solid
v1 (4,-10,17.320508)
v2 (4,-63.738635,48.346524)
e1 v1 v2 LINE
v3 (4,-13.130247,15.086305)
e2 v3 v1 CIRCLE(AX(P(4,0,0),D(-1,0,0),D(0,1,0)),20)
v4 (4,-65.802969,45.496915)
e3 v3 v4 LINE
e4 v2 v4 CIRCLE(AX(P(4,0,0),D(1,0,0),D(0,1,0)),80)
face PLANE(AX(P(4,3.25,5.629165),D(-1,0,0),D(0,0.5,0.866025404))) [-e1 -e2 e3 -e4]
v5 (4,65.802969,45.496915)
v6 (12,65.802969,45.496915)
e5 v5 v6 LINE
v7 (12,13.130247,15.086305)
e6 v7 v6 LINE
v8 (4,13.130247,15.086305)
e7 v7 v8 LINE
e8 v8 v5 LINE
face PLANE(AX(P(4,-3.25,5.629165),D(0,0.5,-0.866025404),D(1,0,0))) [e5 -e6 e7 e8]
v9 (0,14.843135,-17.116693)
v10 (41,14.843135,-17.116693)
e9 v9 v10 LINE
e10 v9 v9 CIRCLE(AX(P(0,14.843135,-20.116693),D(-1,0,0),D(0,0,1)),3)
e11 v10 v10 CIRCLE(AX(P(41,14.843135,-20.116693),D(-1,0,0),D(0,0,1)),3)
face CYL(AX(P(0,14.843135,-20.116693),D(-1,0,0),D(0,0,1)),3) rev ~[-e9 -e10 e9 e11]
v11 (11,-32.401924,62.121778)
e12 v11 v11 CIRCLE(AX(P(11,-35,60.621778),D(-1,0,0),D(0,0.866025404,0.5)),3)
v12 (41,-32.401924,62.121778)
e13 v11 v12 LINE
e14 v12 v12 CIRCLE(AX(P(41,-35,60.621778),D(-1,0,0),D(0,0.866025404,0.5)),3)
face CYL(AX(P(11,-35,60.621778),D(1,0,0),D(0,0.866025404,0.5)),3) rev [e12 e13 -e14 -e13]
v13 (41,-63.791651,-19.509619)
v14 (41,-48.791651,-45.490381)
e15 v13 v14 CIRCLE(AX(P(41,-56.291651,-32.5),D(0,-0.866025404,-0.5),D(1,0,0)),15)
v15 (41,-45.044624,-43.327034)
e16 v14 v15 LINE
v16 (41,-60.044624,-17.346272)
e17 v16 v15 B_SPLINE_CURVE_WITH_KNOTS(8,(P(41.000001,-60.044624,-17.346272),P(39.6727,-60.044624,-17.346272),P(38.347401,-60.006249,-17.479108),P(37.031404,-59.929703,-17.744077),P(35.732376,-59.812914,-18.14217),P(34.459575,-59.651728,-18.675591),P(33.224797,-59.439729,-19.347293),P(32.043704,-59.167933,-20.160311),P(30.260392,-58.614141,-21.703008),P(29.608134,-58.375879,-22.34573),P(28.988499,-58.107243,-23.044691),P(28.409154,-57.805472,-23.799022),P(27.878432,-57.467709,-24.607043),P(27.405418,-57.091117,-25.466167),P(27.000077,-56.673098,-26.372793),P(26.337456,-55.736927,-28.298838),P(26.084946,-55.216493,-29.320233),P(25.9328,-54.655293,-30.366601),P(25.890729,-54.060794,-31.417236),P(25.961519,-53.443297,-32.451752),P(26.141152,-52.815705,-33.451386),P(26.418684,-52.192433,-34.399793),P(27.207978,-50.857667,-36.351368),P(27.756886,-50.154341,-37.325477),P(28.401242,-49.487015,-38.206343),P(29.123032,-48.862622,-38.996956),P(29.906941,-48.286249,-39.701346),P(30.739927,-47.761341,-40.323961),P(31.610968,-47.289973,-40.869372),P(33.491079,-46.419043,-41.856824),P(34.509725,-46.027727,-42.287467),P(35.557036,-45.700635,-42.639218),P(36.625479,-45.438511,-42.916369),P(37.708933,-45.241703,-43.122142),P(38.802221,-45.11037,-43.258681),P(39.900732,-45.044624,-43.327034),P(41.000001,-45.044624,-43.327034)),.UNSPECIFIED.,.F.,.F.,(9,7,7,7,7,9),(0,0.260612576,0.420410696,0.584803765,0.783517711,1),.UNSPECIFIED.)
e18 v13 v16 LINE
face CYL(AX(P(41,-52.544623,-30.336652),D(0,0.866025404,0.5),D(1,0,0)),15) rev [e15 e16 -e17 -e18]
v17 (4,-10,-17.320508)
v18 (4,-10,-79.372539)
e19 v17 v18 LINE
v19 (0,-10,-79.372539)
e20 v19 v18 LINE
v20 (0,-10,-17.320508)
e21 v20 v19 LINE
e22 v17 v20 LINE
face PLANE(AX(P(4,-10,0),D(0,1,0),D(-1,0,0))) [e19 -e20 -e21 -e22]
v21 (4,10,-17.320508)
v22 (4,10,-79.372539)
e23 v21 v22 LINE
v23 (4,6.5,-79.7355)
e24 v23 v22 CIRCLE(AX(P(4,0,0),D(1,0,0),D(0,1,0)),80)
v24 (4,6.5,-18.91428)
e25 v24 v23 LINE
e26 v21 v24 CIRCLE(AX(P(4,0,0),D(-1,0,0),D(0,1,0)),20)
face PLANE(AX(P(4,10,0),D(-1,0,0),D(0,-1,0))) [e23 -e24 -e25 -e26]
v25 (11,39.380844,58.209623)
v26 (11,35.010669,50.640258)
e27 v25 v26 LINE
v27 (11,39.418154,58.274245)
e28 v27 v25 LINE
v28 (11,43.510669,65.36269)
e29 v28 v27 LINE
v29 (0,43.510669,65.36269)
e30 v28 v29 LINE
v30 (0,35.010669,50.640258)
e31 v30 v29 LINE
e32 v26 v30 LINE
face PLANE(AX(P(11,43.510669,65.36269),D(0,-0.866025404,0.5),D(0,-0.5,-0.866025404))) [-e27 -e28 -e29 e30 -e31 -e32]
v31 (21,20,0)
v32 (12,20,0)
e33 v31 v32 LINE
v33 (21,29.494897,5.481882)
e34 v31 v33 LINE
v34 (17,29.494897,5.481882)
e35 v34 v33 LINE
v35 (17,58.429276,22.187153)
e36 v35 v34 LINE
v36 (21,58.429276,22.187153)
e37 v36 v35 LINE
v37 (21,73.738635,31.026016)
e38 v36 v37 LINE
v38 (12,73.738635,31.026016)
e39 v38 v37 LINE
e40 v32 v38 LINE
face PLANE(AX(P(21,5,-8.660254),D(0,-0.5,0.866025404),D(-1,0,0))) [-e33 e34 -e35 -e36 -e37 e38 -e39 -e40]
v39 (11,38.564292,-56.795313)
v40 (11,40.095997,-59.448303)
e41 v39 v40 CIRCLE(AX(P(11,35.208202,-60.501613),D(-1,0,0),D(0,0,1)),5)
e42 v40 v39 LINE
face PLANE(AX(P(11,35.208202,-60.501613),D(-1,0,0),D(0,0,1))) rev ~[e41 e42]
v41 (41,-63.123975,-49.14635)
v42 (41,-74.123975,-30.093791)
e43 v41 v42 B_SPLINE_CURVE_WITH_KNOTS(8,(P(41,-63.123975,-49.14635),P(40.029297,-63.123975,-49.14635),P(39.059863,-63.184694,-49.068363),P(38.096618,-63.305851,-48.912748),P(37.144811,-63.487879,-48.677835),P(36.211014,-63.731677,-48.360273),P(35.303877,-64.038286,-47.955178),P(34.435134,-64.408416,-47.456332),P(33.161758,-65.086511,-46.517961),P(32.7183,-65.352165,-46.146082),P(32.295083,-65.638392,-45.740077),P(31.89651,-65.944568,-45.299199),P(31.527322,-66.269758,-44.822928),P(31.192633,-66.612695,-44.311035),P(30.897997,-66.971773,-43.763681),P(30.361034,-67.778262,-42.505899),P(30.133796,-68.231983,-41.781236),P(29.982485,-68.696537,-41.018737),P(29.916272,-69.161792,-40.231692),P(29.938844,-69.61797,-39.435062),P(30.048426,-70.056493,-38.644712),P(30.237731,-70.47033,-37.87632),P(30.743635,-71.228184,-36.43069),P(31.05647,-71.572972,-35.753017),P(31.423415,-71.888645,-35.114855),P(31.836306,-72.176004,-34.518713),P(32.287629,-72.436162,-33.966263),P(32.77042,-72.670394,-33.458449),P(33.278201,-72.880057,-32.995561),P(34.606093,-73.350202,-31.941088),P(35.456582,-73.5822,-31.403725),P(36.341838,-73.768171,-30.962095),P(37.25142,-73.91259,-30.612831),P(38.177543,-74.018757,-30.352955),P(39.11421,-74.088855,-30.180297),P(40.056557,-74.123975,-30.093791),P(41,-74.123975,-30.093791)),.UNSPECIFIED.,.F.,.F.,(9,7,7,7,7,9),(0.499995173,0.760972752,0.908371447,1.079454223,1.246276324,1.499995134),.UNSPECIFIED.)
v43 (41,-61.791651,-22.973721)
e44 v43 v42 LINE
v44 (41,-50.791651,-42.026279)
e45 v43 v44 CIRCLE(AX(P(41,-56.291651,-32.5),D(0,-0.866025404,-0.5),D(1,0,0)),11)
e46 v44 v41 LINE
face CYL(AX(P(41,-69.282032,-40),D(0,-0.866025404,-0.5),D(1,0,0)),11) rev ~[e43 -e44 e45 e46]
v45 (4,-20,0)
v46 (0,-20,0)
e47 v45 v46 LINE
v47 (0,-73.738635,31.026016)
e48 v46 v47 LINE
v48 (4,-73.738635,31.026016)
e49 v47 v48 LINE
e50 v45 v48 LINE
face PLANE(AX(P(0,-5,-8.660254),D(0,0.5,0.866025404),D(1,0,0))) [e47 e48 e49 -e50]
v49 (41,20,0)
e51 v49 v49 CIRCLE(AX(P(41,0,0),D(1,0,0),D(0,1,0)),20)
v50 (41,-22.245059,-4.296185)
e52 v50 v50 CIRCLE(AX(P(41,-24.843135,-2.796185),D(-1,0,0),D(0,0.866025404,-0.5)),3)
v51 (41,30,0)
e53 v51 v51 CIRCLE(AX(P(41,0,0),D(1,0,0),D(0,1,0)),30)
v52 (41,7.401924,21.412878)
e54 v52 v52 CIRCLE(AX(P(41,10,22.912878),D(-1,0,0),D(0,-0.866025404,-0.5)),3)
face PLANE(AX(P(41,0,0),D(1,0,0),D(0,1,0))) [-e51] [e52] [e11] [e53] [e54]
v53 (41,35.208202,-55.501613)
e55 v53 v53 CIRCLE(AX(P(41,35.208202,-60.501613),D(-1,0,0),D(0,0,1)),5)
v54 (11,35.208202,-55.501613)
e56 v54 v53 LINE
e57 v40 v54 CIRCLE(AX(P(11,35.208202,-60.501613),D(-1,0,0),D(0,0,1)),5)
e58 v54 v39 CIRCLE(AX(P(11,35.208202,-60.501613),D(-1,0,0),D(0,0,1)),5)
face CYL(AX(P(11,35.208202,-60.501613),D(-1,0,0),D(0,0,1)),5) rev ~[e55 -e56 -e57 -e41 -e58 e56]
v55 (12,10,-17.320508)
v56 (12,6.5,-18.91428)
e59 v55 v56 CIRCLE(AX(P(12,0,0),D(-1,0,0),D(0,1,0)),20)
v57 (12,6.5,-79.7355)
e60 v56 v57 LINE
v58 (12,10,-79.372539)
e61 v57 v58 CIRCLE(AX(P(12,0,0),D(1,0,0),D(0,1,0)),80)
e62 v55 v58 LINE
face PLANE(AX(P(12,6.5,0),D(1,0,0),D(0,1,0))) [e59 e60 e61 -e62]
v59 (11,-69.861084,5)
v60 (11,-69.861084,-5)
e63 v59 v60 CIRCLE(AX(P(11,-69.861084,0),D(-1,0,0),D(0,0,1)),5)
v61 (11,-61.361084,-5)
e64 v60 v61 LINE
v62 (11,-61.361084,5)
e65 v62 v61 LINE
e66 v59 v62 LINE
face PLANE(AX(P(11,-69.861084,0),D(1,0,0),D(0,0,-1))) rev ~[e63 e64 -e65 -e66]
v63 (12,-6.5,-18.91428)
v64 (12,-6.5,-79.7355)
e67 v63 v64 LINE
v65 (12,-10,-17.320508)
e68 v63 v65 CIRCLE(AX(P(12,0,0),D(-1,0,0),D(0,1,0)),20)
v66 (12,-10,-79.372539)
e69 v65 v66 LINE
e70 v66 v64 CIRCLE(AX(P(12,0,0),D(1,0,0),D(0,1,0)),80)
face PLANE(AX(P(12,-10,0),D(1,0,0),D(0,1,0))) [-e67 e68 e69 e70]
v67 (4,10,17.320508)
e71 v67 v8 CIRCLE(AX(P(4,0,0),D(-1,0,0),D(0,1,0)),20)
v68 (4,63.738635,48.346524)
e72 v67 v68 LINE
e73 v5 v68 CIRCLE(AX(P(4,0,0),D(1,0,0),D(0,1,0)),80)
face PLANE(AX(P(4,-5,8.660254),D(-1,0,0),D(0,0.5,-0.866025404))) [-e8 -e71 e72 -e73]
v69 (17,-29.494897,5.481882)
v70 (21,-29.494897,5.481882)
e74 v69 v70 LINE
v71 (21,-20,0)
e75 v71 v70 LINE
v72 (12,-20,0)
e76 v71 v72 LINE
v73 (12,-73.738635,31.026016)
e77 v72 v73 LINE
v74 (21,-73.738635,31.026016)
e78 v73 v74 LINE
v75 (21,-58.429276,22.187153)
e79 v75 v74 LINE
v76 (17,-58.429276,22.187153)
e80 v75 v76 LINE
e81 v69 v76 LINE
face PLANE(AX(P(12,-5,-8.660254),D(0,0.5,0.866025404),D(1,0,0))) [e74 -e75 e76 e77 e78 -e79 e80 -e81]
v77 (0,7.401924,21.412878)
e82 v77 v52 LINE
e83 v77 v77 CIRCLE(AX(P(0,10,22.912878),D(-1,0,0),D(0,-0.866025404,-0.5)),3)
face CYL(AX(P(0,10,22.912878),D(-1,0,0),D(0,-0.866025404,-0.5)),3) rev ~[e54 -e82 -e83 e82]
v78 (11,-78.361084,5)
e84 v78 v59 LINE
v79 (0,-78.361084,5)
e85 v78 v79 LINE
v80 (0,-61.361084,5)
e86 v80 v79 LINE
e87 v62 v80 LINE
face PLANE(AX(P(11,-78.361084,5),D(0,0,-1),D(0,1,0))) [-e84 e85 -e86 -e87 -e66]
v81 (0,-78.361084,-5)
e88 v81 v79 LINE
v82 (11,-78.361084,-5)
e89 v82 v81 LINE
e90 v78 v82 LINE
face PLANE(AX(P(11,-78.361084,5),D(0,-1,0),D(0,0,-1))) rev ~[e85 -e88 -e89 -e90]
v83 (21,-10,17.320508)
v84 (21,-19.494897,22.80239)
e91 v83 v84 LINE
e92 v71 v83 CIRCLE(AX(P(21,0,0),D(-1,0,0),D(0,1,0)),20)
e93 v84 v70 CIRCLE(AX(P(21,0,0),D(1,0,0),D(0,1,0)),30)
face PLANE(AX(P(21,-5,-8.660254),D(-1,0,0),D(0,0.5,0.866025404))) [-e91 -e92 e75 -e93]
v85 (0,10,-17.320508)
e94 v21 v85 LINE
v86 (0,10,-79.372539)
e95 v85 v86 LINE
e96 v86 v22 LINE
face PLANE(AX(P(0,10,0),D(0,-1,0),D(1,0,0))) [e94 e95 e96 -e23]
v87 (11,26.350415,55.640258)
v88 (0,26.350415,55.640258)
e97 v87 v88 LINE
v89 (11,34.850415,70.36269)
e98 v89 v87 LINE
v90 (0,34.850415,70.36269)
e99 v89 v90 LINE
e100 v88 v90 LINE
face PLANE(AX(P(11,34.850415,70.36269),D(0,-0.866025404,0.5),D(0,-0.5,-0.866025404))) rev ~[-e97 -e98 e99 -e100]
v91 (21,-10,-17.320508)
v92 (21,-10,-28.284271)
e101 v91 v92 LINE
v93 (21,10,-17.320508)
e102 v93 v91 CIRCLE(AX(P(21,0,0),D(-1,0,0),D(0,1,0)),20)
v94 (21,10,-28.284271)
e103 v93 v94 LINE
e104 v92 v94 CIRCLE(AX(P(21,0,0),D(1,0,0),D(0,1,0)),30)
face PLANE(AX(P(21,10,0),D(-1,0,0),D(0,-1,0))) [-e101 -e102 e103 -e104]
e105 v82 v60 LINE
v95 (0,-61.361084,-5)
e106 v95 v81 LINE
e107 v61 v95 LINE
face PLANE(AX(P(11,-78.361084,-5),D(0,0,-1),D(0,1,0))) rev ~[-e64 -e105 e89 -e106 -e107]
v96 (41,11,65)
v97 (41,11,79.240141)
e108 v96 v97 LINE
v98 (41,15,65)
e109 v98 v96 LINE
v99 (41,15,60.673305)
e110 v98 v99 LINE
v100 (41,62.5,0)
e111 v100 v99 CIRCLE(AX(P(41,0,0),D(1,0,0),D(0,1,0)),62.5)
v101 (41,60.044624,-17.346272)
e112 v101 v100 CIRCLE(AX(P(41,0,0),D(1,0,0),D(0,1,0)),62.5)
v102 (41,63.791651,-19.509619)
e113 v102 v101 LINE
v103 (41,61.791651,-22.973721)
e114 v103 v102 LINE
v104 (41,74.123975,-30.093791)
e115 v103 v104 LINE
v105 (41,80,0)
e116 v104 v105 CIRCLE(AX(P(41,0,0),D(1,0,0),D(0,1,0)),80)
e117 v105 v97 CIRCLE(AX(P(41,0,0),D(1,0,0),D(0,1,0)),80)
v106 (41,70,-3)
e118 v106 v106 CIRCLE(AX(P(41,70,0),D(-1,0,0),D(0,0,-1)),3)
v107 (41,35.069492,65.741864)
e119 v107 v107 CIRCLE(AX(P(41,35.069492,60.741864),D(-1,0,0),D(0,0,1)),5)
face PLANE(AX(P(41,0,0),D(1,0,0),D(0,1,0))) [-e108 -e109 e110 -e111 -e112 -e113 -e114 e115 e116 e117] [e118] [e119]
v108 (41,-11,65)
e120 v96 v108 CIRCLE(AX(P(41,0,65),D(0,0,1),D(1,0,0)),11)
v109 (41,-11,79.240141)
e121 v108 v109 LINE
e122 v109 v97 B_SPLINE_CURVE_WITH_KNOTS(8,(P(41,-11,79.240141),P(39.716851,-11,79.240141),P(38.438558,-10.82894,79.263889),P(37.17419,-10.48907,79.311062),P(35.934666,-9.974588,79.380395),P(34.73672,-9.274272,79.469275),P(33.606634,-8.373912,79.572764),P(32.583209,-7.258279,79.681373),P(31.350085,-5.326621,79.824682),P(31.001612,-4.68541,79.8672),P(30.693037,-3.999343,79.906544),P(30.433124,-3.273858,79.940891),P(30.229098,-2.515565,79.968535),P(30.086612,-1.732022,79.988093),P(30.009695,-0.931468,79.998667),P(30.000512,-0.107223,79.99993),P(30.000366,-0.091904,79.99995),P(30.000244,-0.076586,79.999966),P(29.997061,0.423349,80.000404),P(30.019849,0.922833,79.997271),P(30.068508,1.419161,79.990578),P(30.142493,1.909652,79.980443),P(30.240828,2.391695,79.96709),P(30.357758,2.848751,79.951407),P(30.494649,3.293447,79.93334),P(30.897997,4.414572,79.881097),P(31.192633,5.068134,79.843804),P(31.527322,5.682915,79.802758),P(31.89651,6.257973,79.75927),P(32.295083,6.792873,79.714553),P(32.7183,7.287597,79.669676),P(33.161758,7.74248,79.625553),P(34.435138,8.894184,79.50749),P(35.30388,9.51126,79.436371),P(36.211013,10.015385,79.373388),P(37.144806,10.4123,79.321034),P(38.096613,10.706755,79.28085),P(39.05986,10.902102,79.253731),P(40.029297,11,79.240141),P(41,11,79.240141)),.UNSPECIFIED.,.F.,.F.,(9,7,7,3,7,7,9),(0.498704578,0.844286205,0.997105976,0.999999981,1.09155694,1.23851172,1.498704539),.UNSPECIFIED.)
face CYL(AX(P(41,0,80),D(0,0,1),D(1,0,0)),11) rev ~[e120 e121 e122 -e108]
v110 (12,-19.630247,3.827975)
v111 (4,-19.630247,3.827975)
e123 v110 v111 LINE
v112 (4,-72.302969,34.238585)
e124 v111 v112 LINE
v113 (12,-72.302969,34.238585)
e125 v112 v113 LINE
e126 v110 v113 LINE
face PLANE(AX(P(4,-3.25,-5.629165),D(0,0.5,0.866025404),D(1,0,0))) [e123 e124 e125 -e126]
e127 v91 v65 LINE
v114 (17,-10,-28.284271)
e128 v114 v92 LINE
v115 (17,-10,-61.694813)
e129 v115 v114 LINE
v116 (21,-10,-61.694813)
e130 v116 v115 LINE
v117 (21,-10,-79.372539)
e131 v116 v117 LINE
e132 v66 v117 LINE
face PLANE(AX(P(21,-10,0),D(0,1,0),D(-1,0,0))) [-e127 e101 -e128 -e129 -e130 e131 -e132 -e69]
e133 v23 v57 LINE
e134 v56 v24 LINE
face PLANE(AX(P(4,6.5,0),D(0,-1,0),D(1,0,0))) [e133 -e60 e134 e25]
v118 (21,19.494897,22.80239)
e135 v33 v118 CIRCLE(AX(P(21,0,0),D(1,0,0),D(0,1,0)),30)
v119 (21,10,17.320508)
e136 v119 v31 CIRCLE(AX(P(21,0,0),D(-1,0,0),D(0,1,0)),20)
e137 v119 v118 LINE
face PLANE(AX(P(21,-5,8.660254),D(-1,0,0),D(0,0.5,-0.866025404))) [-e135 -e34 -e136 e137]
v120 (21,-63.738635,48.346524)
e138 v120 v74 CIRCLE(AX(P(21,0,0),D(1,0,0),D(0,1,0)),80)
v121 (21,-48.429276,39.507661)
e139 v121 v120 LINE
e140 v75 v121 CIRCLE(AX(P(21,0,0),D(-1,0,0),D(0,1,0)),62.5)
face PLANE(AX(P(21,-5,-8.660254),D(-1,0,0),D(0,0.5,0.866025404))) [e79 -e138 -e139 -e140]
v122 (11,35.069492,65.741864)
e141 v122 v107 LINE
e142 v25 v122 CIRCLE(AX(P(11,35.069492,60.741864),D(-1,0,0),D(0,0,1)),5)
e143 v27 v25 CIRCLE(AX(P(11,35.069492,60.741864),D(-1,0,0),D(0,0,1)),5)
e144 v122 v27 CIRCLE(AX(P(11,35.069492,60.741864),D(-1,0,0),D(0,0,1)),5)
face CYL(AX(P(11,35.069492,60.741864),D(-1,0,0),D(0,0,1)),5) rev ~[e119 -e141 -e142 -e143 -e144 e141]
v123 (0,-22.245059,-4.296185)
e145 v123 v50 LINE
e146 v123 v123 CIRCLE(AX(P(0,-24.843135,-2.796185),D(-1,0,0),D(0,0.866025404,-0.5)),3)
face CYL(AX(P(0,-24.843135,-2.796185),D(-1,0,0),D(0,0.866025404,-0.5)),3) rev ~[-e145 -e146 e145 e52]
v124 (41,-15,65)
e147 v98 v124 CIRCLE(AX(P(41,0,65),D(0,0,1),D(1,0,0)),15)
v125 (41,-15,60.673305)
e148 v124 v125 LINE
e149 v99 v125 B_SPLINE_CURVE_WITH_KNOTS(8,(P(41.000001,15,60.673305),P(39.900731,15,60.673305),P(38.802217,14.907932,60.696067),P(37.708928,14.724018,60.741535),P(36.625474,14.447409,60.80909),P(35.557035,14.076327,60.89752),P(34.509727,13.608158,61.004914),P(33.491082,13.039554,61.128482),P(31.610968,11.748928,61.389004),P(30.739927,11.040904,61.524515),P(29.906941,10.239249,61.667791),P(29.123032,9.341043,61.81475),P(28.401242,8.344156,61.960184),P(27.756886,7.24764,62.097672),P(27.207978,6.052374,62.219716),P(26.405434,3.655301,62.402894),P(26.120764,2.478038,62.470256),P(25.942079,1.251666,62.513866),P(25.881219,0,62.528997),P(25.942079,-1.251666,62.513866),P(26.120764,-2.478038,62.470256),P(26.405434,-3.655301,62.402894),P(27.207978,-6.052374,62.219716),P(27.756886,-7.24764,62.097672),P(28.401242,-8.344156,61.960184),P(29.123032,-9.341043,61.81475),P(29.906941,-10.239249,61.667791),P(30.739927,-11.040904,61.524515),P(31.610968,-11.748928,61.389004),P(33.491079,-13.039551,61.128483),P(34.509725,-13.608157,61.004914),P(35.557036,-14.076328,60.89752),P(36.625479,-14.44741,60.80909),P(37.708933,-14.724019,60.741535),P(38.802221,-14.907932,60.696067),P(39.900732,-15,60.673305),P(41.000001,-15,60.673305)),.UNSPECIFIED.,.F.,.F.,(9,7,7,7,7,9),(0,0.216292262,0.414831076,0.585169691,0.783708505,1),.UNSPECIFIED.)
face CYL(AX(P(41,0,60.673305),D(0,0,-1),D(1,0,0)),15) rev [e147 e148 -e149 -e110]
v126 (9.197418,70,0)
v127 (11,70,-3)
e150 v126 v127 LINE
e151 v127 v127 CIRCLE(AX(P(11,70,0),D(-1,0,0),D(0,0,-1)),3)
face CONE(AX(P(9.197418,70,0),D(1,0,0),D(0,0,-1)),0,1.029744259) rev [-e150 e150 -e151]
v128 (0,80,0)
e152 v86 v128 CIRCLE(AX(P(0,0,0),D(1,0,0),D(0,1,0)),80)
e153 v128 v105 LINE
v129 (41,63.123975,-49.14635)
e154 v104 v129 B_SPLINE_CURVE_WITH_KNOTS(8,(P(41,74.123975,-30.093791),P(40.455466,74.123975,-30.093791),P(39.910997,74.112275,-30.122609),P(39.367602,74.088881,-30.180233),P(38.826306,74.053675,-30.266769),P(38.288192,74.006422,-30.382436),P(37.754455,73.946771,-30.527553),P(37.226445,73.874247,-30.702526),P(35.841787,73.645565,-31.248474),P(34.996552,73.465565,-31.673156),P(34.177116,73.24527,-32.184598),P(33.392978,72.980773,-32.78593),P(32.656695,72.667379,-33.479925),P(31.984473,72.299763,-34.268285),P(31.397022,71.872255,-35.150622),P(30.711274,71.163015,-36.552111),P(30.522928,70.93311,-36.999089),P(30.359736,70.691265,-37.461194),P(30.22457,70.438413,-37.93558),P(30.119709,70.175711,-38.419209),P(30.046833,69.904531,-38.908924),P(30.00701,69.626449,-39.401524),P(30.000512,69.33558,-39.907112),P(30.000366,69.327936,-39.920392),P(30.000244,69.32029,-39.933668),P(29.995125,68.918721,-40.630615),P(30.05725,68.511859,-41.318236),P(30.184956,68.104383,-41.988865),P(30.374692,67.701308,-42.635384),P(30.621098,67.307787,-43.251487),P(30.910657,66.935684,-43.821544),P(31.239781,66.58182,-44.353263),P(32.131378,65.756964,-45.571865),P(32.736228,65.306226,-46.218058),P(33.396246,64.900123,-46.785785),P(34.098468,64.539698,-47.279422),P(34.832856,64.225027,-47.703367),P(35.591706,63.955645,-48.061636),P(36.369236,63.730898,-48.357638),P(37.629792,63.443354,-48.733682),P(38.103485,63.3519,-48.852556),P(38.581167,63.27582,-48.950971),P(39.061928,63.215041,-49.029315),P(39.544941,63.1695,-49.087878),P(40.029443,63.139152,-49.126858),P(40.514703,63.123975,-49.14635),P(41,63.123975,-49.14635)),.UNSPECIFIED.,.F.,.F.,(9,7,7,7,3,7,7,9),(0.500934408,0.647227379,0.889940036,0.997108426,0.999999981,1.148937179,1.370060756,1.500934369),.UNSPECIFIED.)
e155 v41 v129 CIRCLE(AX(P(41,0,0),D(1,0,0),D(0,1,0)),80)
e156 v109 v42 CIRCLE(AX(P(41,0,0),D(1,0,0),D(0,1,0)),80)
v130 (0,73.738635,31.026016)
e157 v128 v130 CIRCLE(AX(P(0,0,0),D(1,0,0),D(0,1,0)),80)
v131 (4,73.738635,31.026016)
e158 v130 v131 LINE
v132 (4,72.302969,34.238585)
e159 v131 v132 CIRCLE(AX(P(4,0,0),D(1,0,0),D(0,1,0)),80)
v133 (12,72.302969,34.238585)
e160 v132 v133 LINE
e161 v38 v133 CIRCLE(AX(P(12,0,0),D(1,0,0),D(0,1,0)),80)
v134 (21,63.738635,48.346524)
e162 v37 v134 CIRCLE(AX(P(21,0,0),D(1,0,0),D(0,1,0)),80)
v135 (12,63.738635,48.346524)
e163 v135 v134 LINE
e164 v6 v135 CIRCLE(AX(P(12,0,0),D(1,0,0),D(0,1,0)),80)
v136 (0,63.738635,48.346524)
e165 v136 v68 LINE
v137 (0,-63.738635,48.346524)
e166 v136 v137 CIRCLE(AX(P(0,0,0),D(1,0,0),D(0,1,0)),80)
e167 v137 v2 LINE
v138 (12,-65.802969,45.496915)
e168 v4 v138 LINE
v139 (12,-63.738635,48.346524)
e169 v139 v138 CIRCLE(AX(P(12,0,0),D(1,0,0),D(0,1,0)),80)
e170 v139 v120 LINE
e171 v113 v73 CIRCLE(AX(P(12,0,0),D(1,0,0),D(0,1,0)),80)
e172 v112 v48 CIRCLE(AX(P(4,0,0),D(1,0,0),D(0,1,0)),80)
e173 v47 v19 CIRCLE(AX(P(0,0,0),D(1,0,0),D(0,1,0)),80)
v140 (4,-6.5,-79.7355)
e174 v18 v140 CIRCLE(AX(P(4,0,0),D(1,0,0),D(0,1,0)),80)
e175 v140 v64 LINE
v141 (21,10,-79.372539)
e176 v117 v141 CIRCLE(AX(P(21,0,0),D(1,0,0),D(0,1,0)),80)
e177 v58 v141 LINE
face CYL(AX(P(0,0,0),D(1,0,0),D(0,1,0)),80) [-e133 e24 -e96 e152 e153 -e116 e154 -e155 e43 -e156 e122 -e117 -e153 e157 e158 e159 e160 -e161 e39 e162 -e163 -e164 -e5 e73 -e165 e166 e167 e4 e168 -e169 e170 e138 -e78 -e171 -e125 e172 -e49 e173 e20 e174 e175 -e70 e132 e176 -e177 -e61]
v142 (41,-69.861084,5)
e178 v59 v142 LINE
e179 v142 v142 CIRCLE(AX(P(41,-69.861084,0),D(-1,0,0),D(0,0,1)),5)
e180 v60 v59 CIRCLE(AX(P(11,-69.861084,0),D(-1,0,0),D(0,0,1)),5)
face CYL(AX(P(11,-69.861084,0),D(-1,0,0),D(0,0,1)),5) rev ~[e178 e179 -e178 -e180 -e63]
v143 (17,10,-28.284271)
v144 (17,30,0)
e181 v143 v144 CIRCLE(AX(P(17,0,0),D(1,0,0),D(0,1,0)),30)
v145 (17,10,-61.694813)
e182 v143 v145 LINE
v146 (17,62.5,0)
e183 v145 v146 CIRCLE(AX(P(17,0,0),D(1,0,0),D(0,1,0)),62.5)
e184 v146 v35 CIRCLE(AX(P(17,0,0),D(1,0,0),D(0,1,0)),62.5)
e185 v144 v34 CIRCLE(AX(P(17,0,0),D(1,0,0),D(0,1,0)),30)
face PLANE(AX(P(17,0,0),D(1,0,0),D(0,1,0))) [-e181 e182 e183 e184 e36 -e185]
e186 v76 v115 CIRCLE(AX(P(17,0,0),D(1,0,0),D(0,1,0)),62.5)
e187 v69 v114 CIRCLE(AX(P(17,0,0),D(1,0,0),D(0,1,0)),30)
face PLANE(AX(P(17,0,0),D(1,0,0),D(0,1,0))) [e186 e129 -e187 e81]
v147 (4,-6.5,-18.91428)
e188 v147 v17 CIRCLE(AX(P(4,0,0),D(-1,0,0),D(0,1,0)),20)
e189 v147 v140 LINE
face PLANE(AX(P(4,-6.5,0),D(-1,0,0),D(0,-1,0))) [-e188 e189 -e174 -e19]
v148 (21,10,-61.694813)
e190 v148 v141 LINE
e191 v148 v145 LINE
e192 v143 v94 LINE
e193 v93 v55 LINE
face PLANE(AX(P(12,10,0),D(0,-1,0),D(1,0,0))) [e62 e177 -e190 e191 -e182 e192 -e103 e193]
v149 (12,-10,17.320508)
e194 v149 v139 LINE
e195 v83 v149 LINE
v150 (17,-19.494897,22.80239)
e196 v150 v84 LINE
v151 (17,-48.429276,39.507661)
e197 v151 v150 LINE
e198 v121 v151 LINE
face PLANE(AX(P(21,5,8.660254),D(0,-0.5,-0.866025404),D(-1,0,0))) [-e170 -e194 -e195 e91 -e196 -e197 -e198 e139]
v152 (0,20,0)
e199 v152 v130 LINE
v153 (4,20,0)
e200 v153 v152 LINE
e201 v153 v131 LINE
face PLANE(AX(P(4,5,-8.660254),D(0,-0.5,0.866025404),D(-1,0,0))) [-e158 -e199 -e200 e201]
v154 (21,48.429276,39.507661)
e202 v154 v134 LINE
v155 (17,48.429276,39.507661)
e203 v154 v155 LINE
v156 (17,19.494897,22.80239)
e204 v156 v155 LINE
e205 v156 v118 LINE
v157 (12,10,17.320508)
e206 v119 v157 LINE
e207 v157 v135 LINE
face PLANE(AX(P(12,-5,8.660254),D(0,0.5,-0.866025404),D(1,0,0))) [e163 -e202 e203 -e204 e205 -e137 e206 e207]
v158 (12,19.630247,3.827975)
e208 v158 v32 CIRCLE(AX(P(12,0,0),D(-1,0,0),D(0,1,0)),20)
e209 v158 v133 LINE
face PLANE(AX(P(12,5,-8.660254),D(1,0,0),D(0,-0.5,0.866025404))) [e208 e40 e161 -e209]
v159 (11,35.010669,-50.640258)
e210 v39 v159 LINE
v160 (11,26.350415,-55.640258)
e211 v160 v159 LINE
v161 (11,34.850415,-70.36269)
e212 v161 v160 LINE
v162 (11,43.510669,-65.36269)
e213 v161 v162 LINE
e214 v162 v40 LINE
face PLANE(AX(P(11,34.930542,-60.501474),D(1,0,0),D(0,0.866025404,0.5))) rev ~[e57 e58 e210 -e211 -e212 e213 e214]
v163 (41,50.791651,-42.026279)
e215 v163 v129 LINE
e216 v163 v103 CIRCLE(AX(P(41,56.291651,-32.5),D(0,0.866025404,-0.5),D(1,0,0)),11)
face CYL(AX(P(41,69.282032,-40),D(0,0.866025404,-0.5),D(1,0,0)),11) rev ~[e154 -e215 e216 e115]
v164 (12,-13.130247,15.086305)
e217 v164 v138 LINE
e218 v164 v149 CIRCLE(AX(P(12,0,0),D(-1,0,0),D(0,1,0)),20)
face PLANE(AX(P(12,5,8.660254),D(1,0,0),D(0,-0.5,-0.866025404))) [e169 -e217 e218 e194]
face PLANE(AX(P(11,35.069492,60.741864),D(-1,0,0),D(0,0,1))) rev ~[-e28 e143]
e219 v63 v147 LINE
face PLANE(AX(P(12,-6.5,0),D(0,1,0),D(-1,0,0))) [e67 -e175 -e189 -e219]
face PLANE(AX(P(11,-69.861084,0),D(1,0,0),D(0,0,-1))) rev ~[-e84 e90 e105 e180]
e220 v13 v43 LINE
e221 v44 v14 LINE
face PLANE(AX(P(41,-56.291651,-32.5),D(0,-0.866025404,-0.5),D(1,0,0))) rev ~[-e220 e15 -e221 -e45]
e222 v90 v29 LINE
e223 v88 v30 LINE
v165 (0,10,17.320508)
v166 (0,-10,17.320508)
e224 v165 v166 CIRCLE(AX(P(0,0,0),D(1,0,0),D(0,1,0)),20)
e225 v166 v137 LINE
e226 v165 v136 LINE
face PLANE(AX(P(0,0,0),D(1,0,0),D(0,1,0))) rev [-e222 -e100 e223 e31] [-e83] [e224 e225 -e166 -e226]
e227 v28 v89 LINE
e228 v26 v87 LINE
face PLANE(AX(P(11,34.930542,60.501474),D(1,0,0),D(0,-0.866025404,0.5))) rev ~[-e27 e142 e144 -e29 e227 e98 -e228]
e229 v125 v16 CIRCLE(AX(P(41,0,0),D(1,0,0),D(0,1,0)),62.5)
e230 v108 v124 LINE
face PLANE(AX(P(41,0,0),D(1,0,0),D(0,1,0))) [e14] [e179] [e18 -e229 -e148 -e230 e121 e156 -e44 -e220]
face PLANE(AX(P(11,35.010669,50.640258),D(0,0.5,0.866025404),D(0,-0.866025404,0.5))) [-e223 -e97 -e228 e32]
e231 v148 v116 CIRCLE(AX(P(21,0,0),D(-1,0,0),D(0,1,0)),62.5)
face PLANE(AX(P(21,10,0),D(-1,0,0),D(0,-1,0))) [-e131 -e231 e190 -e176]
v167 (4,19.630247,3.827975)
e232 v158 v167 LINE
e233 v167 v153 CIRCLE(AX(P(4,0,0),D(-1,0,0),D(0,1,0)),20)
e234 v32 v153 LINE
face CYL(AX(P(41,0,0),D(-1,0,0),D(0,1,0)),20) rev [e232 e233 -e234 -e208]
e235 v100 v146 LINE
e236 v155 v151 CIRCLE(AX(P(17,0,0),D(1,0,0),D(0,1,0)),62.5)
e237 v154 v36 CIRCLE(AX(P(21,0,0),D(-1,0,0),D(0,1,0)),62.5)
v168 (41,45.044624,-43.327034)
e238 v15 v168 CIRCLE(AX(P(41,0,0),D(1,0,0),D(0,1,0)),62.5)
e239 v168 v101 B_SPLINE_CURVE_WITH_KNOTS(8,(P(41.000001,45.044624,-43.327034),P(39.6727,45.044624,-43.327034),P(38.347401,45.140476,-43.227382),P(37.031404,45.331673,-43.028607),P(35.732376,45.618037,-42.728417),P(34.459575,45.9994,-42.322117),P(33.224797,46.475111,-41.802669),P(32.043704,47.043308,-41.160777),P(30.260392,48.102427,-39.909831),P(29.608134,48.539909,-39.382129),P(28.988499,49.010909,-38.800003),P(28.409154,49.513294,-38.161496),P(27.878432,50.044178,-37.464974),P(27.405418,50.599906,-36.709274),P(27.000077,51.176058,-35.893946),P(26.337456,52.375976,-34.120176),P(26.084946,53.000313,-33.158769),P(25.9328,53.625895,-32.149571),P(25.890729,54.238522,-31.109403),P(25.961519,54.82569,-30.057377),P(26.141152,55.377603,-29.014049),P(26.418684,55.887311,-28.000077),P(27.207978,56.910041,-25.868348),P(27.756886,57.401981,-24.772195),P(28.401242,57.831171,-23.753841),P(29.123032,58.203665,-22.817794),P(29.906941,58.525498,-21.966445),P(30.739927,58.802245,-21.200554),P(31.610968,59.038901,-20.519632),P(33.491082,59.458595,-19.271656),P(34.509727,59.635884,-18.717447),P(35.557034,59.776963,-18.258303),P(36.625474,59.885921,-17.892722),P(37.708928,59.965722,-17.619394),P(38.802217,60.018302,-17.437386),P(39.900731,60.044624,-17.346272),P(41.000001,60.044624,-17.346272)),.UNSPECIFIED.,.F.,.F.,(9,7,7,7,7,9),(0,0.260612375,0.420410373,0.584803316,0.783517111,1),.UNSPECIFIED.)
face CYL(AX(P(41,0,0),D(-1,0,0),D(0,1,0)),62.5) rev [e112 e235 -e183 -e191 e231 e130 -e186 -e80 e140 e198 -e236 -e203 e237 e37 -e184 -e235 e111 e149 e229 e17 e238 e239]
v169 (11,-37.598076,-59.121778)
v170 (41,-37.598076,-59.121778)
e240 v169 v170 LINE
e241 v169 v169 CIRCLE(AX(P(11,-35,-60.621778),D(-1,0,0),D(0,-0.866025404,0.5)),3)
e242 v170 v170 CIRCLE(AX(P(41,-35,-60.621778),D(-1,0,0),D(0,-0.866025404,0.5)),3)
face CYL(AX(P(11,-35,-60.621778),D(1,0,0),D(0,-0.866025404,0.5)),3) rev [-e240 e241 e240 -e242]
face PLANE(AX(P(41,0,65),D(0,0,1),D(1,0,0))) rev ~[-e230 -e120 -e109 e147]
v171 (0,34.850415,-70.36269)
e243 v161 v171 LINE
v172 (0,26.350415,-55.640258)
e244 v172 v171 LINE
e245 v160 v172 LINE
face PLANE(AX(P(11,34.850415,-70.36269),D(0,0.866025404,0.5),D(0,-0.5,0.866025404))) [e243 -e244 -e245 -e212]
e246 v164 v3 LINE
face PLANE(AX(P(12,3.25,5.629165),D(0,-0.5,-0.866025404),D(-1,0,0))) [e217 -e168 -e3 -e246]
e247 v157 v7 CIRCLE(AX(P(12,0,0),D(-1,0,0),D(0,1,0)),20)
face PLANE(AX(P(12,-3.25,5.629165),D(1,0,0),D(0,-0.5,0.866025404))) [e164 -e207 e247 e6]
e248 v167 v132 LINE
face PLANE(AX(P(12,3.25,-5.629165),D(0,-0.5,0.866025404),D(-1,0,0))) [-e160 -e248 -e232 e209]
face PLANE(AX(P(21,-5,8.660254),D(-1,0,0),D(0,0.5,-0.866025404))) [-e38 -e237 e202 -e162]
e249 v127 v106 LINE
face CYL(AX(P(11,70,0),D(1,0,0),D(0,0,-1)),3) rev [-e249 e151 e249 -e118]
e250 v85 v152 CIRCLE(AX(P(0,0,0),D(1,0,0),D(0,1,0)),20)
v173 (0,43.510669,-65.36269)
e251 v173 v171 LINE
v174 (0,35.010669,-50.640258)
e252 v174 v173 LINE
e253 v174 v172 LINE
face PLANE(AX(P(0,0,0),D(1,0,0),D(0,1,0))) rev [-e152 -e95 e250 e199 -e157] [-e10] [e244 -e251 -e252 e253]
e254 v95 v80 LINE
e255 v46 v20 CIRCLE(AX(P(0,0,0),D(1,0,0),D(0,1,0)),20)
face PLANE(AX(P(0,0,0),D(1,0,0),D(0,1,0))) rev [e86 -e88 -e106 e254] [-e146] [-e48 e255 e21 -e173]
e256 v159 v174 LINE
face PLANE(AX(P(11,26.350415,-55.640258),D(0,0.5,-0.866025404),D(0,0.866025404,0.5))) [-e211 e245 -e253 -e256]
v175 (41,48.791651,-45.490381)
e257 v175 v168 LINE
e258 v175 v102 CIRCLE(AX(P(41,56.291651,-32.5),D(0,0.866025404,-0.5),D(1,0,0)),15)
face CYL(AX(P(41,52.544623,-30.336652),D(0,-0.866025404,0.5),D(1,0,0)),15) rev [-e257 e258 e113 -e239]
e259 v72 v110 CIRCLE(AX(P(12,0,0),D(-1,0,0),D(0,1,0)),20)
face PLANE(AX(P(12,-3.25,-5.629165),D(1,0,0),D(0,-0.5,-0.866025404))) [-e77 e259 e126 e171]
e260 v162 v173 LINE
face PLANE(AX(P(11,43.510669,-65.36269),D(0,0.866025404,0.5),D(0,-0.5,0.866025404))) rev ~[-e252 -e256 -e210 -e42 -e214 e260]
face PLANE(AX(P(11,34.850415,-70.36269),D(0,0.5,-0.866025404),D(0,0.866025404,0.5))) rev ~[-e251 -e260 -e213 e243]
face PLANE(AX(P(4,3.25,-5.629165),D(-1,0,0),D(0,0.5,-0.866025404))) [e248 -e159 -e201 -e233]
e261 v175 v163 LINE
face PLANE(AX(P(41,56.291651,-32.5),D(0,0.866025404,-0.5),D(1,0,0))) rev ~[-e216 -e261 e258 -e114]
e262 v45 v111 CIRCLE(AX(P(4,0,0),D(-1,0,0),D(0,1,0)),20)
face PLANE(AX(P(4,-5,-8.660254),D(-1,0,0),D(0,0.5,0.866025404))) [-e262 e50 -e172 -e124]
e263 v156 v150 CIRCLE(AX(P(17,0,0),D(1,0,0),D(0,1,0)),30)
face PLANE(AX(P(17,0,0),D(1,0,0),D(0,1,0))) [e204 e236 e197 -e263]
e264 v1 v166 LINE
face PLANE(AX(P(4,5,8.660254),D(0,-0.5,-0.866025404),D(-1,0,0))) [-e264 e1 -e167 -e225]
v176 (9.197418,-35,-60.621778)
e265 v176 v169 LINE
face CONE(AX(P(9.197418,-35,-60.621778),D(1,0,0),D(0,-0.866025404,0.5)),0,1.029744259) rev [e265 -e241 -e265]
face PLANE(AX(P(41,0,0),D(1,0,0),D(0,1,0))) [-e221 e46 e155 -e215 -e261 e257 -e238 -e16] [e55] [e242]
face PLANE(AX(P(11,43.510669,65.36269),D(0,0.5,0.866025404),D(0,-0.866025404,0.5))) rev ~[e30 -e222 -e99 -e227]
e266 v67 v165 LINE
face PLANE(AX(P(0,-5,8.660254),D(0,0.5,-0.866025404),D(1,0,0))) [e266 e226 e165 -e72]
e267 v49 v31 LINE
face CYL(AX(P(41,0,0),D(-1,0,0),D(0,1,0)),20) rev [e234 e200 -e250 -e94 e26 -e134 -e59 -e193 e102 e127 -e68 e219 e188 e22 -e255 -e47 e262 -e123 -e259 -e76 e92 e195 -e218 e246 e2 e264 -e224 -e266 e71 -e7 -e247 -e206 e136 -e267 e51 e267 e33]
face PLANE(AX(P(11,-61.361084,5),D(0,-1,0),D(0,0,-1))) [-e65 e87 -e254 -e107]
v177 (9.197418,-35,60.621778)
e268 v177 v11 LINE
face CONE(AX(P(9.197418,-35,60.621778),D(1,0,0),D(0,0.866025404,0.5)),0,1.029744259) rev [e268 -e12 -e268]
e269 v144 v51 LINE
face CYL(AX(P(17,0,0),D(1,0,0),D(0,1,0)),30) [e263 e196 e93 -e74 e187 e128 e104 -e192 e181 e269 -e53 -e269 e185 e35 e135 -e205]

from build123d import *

# Parameters (mm, degrees)
CUT_EXTRUDE1_DEPTH = 81
CIRPATTERN1_COUNT  = 3
CUT_EXTRUDE2_START = -11
SKETCH5_R          = 5
CUT_EXTRUDE2_DEPTH = 30
SKETCH9_R          = 2.999999999
CUT_EXTRUDE3_DEPTH = 41
CIRPATTERN3_COUNT  = 3
SKETCH11_R         = 11
CUT_EXTRUDE4_DEPTH = 15
CUT_EXTRUDE5_START = -4.326695
SKETCH12_R         = 15
CUT_EXTRUDE5_DEPTH = 4.326695
SKETCH15_W         = 10
SKETCH15_H         = 17
CUT_EXTRUDE9_DEPTH = 15
CIRPATTERN5_COUNT  = 3
CIRPATTERN7_COUNT  = 3
CIRPATTERN8_COUNT  = 3


with BuildPart() as part:
    # Sketch1 → Revolve1 (revolve)
    with BuildSketch(Plane.XY):
        Polygon((0, 20), (0, 80), (41, 80), (41, 62.5), (17, 62.5), (17, 30), (41, 30), (41, 20), align=None)
    revolve(axis=Axis((-1000, 0, 0), (1, 0, 0)))

    # Sketch3 → Cut-Extrude1 (cut, through all)
    with BuildSketch(Plane.XY):
        Polygon((0, -10), (0, 10), (4, 10), (4, 6.5), (12, 6.5), (12, 10), (21, 10), (21, -10), (12, -10), (12, -6.5), (4, -6.5), (4, -10), align=None)
    cut_extrude1 = extrude(amount=-CUT_EXTRUDE1_DEPTH, mode=Mode.SUBTRACT)

    # CirPattern1: Cut-Extrude1 ×3 about axis
    cirpattern1_axis = Axis((0, 0, 0), (1, 0, 0))
    for i in range(1, CIRPATTERN1_COUNT):
        add(cut_extrude1.rotate(cirpattern1_axis, i * 360 / CIRPATTERN1_COUNT), mode=Mode.SUBTRACT)

    # Sketch5 → Cut-Extrude2 (cut)
    with BuildSketch(Plane.ZY.offset(CUT_EXTRUDE2_START)):
        with Locations((0, -69.861084208)):
            Circle(SKETCH5_R)
        with Locations((-60.501612866, 35.208201697)):
            Circle(SKETCH5_R)
        with Locations((60.741864319, 35.069492456)):
            Circle(SKETCH5_R)
    extrude(amount=-CUT_EXTRUDE2_DEPTH, mode=Mode.SUBTRACT)

    # Sketch9 → Cut-Extrude3 (cut)
    with BuildSketch(Plane.ZY):
        with Locations((-20.116693275, 14.843134833)):
            Circle(SKETCH9_R)
    cut_extrude3 = extrude(amount=-CUT_EXTRUDE3_DEPTH, mode=Mode.SUBTRACT)

    # CirPattern3: Cut-Extrude3 ×3 about axis
    cirpattern3_axis = Axis((0, 0, 0), (1, 0, 0))
    for i in range(1, CIRPATTERN3_COUNT):
        add(cut_extrude3.rotate(cirpattern3_axis, i * 360 / CIRPATTERN3_COUNT), mode=Mode.SUBTRACT)

    # Sketch11 → Cut-Extrude4 (cut)
    with BuildSketch(Plane.XY.offset(80)):
        with Locations((41, 0)):
            Circle(SKETCH11_R)
    cut_extrude4 = extrude(amount=-CUT_EXTRUDE4_DEPTH, mode=Mode.SUBTRACT)

    # Sketch12 → Cut-Extrude5 (cut)
    with BuildSketch(Plane.XY.offset(65).offset(CUT_EXTRUDE5_START)):
        with Locations((41, 0)):
            Circle(SKETCH12_R)
    cut_extrude5 = extrude(amount=CUT_EXTRUDE5_DEPTH, mode=Mode.SUBTRACT)

    # Sketch15 → Cut-Extrude9 (cut)
    with BuildSketch(Plane(origin=(11, 0, 0), x_dir=(0, 0, -1), z_dir=(1, 0, 0))):
        with Locations((0, -69.861084208)):
            Rectangle(SKETCH15_W, SKETCH15_H)
    cut_extrude9 = extrude(amount=-CUT_EXTRUDE9_DEPTH, mode=Mode.SUBTRACT)

    # CirPattern5: Cut-Extrude9 ×3 about axis
    cirpattern5_axis = Axis((0, 0, 0), (1, 0, 0))
    for i in range(1, CIRPATTERN5_COUNT):
        add(cut_extrude9.rotate(cirpattern5_axis, i * 360 / CIRPATTERN5_COUNT), mode=Mode.SUBTRACT)

    # Sketch19 → Ø6.0mm Dowel Hole3 (revolve, cut)
    with BuildSketch(Plane(origin=(41, 70, 0), x_dir=(0, 0, -1), z_dir=(0, 1, 0))):
        Polygon((0, 0), (0, 31.802581857), (3, 30), (3, 0), align=None)
    f_6_0mm_dowel_hole3 = revolve(axis=Axis((47.35, 70, 0), (-1, 0, 0)), mode=Mode.SUBTRACT)

    # CirPattern7: Ø6.0mm Dowel Hole3 ×3 about axis
    cirpattern7_axis = Axis((0, 0, 0), (1, 0, 0))
    for i in range(1, CIRPATTERN7_COUNT):
        add(f_6_0mm_dowel_hole3.rotate(cirpattern7_axis, i * 360 / CIRPATTERN7_COUNT), mode=Mode.SUBTRACT)

    # CirPattern8: Cut-Extrude4, Cut-Extrude5 ×3 about axis
    cirpattern8_axis = Axis((0, 0, 0), (1, 0, 0))
    for i in range(1, CIRPATTERN8_COUNT):
        add(cut_extrude4.rotate(cirpattern8_axis, i * 360 / CIRPATTERN8_COUNT), mode=Mode.SUBTRACT)
        add(cut_extrude5.rotate(cirpattern8_axis, i * 360 / CIRPATTERN8_COUNT), mode=Mode.SUBTRACT)


solid = part.part
